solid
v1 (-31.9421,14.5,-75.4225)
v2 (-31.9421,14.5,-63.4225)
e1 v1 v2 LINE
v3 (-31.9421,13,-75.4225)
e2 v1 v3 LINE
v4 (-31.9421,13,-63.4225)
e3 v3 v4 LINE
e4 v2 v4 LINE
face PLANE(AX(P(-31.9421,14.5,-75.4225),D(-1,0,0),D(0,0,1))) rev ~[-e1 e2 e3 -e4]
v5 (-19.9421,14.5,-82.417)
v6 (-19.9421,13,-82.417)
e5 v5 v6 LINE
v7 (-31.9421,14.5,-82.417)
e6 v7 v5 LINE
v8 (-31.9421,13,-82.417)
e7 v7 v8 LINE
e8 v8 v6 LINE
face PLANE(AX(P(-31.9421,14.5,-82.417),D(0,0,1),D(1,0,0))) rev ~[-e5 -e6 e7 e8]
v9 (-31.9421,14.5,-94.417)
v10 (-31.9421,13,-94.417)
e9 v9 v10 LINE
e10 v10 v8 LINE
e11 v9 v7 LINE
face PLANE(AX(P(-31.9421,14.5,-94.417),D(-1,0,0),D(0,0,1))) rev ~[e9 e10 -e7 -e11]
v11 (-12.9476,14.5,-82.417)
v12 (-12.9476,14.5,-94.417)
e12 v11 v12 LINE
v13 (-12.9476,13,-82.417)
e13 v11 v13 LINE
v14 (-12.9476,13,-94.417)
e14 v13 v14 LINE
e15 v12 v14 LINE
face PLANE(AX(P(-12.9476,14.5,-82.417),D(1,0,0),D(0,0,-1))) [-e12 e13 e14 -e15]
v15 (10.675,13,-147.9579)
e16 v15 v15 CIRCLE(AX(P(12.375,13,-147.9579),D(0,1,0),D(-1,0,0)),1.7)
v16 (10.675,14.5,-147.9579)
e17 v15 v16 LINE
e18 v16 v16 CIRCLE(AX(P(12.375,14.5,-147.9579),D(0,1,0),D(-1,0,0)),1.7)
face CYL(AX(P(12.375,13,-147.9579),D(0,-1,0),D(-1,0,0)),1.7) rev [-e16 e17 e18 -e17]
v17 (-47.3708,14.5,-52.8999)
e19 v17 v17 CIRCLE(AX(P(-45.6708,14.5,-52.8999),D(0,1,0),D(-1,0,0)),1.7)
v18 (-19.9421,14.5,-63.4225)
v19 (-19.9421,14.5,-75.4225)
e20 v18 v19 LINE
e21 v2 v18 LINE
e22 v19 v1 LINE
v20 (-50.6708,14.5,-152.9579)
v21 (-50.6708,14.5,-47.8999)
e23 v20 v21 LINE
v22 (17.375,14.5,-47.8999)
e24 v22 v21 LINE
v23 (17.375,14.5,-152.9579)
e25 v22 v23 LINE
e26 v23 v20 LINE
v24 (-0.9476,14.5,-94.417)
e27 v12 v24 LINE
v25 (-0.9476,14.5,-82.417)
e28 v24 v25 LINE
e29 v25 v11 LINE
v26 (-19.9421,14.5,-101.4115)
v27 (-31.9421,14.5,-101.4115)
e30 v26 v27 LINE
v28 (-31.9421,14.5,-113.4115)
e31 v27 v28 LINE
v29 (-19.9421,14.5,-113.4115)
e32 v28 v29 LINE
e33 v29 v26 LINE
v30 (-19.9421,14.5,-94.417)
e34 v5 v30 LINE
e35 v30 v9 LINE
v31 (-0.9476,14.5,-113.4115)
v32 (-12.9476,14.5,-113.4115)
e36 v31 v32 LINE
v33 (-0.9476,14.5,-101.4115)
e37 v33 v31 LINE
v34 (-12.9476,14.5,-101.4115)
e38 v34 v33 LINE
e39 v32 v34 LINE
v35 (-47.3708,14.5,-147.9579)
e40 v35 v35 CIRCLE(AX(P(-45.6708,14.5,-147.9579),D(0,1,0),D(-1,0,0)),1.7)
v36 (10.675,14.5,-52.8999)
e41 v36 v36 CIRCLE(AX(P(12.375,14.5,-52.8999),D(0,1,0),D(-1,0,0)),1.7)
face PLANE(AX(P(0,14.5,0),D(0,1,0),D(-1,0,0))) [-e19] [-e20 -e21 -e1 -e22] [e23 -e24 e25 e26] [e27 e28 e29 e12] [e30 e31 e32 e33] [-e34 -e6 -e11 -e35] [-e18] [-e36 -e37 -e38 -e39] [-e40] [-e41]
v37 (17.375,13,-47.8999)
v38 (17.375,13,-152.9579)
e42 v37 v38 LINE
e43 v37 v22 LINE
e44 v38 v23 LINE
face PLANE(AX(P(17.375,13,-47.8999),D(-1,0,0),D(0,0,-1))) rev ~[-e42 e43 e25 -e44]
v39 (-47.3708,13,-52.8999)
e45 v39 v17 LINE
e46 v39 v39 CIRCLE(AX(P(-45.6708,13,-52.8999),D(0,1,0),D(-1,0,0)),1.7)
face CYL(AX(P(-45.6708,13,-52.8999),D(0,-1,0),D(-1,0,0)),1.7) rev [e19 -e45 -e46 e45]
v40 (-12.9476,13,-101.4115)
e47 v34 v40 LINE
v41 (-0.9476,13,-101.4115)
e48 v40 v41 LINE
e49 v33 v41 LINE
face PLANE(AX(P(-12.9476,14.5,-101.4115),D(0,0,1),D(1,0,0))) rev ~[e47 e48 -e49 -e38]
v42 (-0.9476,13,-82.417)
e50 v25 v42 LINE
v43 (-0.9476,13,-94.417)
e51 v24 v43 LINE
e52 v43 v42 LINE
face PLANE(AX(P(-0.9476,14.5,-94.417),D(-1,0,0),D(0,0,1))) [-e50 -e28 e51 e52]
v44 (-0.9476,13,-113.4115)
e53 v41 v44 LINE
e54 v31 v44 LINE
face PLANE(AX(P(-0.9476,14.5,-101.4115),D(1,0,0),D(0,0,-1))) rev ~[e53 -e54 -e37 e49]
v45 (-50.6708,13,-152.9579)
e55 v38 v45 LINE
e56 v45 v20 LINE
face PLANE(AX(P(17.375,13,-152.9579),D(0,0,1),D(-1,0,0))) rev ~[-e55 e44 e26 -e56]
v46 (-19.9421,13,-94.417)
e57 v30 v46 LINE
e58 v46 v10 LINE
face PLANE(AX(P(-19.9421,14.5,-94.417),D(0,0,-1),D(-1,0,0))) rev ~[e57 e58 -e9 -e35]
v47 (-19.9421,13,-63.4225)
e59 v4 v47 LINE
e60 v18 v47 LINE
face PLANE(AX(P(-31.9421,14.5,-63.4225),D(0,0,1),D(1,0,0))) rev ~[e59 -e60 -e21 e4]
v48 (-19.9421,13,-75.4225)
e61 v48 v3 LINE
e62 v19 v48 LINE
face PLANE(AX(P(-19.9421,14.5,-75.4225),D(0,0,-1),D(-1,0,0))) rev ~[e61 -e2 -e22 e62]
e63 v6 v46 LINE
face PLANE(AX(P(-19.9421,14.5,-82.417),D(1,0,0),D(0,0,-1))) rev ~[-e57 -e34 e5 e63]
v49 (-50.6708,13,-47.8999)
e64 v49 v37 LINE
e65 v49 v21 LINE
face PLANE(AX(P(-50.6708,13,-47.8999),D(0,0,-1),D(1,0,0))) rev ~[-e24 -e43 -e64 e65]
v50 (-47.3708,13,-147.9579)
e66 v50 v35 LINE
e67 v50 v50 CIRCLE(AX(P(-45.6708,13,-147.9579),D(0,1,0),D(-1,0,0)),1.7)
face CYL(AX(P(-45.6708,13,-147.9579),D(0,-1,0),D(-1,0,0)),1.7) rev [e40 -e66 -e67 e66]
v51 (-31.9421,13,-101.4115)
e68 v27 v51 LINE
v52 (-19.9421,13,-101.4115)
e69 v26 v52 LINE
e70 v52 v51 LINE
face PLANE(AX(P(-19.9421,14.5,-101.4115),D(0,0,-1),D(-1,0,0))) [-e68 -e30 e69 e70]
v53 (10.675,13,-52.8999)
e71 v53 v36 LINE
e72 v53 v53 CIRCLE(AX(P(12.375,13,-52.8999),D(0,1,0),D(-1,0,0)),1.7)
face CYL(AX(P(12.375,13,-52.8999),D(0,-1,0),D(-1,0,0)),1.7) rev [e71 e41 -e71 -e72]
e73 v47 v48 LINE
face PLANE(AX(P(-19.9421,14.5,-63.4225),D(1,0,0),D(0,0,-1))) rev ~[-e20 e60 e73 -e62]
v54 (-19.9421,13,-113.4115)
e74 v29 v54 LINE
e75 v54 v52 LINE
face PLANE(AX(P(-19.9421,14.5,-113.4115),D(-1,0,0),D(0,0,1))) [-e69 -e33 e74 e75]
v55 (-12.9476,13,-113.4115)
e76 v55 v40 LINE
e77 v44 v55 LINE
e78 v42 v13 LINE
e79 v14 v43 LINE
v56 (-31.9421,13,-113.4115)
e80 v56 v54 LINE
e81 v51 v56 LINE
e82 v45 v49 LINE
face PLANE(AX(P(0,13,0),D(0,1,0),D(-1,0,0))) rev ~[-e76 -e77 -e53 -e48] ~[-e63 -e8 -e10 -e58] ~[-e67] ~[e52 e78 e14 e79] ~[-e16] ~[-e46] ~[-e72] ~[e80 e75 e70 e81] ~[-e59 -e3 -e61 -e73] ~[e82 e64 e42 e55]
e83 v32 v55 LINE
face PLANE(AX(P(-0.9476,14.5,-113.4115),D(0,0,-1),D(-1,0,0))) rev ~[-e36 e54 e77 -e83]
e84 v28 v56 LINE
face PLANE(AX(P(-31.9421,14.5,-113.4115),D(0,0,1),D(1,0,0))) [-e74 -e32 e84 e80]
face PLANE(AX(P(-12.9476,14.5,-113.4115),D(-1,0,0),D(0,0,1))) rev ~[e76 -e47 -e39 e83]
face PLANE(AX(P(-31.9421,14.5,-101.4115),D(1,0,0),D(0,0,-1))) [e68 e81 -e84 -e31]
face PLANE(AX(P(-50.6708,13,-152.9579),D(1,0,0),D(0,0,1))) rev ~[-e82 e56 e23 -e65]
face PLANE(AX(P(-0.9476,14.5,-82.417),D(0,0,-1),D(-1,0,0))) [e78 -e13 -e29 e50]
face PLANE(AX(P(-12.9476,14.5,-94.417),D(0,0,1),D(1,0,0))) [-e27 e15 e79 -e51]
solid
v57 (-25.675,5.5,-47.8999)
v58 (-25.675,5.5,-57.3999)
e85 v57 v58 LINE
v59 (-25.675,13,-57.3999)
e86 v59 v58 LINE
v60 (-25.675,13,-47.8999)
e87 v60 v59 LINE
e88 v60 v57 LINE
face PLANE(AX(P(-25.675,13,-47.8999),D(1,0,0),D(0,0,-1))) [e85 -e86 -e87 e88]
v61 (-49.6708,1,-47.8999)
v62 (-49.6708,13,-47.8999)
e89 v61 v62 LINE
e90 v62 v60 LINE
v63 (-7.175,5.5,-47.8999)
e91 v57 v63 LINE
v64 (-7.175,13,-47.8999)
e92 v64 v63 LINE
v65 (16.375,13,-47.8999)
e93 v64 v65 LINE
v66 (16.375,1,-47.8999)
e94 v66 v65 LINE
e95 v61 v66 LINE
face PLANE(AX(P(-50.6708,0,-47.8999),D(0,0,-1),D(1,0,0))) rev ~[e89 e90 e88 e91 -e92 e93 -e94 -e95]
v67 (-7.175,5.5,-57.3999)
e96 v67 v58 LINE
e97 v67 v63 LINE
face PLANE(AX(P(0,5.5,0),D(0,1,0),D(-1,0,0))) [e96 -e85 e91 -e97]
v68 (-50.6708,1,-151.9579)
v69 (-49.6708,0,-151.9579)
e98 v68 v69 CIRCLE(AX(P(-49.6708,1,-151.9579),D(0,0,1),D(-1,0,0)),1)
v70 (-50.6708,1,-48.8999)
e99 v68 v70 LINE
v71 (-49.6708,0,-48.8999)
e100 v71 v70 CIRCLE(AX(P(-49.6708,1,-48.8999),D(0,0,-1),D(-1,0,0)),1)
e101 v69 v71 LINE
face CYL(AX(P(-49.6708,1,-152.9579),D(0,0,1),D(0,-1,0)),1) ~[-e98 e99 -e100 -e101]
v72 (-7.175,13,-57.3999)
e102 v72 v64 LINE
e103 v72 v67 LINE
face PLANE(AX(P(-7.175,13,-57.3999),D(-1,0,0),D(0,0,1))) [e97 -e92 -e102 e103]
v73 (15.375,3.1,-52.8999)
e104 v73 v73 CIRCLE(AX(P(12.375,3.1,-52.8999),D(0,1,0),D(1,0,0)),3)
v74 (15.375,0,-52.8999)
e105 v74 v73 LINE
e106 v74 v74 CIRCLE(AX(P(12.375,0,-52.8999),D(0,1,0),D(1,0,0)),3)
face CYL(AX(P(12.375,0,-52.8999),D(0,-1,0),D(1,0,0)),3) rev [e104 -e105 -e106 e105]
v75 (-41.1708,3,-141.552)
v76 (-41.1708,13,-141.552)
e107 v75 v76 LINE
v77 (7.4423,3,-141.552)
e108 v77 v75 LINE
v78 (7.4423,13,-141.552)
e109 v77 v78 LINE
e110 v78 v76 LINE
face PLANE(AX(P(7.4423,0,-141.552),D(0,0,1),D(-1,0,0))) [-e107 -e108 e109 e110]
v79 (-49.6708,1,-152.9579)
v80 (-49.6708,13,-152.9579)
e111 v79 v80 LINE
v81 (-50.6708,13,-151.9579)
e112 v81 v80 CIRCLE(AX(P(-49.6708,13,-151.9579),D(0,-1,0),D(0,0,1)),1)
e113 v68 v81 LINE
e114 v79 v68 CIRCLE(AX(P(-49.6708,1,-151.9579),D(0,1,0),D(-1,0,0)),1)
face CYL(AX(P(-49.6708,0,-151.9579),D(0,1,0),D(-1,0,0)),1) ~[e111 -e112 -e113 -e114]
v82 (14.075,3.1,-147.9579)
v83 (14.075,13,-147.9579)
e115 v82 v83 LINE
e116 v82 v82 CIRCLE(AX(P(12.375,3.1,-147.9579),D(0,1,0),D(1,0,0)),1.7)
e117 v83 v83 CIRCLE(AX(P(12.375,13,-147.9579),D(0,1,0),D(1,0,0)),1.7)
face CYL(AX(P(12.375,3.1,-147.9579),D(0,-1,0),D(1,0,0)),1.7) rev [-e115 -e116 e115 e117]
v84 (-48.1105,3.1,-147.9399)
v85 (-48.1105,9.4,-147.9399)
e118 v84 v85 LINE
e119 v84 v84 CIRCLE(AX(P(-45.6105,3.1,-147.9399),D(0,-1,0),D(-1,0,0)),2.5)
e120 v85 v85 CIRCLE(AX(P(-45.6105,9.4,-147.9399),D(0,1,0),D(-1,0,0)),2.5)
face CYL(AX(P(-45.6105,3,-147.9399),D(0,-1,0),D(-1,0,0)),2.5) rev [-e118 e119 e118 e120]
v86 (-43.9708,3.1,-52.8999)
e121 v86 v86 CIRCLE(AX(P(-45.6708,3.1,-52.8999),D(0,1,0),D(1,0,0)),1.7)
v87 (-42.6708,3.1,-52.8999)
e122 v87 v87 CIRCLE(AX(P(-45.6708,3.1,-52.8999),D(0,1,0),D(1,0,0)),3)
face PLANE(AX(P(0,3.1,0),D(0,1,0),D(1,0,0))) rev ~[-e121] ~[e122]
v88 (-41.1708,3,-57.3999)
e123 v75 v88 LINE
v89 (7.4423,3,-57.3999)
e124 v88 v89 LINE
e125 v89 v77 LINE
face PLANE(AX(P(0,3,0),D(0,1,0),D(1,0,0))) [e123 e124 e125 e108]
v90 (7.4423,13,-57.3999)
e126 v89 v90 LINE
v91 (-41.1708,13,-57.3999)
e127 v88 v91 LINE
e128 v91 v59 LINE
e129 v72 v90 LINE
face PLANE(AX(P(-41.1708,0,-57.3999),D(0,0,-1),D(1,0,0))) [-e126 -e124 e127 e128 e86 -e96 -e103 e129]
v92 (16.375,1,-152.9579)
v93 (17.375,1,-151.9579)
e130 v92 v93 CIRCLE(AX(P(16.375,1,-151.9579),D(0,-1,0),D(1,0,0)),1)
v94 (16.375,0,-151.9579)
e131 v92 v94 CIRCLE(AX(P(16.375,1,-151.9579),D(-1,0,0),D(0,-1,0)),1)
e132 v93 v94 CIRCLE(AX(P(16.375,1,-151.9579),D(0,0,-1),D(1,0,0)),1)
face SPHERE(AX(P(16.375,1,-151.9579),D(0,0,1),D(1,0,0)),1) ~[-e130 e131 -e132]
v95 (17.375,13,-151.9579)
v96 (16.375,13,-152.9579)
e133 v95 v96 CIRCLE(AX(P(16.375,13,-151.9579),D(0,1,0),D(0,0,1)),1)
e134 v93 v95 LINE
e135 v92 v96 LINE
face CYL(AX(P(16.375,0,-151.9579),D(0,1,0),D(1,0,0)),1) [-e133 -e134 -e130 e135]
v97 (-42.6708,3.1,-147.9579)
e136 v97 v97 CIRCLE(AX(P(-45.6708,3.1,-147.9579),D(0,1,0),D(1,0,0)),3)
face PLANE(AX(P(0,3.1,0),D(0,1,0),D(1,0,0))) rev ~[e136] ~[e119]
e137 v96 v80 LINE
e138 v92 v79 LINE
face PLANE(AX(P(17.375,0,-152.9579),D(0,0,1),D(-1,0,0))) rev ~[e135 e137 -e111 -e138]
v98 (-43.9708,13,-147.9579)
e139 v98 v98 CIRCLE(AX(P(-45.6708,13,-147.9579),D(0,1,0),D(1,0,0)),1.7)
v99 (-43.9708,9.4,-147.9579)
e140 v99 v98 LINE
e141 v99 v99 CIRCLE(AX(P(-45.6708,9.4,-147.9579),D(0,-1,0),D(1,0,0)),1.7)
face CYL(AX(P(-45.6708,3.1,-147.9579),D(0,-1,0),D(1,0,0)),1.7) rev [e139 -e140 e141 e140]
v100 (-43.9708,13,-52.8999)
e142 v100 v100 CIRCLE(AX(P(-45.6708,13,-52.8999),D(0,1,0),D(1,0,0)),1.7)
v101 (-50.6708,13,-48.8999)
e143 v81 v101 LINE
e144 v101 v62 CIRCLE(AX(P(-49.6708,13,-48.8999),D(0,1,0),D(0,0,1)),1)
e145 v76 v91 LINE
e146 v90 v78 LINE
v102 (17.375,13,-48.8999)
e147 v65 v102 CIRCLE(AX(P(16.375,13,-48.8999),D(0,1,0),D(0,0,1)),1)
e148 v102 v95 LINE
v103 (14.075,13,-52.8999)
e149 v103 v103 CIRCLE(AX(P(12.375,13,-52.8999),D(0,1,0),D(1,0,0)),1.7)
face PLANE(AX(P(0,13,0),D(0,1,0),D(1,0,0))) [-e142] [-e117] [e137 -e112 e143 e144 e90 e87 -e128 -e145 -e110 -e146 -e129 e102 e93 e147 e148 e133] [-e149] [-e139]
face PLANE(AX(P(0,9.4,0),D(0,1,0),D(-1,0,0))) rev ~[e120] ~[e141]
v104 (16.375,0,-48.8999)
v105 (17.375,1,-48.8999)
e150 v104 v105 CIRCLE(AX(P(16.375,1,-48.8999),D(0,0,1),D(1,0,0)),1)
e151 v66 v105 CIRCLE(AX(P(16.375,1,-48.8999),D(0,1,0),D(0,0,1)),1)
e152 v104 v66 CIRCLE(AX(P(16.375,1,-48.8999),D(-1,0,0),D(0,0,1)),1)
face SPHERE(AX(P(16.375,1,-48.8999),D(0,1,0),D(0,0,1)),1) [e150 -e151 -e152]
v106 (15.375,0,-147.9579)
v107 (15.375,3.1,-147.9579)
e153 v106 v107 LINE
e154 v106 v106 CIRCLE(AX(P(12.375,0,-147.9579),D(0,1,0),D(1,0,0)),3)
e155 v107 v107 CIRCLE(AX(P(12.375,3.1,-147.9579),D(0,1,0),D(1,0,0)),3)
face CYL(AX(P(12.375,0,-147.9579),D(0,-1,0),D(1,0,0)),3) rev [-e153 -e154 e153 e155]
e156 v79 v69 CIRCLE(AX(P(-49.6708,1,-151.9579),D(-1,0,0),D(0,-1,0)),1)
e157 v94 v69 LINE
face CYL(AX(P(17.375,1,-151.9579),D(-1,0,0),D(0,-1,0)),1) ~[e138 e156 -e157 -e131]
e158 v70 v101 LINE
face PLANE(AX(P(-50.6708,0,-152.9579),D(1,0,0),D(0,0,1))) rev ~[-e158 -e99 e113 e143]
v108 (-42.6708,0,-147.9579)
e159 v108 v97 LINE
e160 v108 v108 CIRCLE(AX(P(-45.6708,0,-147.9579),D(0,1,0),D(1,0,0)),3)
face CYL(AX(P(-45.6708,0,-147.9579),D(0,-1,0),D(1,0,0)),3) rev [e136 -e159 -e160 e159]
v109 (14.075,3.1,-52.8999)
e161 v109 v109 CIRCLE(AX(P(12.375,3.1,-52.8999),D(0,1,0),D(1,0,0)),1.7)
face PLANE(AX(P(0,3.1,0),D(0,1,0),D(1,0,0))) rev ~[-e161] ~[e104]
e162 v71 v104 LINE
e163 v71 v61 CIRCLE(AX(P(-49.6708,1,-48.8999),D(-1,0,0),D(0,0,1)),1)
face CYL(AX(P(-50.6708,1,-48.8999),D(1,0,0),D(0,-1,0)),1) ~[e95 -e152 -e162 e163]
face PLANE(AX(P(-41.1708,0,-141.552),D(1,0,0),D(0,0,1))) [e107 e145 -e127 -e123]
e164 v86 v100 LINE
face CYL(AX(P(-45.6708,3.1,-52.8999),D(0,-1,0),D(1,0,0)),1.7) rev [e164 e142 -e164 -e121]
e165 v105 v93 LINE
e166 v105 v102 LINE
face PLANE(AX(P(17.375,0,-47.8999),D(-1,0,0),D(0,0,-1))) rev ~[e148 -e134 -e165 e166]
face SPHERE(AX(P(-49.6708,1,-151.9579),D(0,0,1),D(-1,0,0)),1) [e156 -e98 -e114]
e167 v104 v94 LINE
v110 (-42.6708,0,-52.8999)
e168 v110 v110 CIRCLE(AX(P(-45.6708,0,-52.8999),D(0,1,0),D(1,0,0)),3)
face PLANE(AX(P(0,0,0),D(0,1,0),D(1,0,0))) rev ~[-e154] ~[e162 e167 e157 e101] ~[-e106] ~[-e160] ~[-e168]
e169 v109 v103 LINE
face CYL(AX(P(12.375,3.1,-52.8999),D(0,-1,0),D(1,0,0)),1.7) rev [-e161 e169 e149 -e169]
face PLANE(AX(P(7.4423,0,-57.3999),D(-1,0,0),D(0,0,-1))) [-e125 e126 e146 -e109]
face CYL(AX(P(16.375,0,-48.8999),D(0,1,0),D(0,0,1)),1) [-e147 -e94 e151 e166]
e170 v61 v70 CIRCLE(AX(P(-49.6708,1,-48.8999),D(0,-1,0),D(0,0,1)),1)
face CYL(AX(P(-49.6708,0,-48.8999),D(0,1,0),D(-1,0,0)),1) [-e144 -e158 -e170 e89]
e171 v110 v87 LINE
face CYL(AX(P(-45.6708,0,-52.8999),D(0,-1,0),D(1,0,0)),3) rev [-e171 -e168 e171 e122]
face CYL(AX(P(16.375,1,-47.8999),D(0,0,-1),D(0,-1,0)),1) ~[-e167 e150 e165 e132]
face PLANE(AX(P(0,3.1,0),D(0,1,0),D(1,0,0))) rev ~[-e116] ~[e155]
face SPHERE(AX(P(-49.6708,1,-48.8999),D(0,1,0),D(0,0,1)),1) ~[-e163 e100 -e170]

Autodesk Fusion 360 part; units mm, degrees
sketch "Sketch1" plane through (0, 0, 0) normal (0, 1, 0) x (1, 0, 0)
  line L0 (-41.1708, 57.3999) -> (7.4423, 57.3999)
  line L1 (7.4423, 57.3999) -> (7.4423, 141.552)
  line L2 (7.4423, 141.552) -> (-41.1708, 141.552)
  line L3 (-41.1708, 141.552) -> (-41.1708, 57.3999)
  line L4 (-50.6708, 47.8999) -> (17.375, 47.8999)
  line L5 (17.375, 47.8999) -> (17.375, 152.9579)
  line L6 (17.375, 152.9579) -> (-50.6708, 152.9579)
  line L7 (-50.6708, 152.9579) -> (-50.6708, 47.8999)
  circle A0 centre (-45.6708, 147.9579) radius 1.7
  circle A1 centre (-45.6708, 52.8999) radius 1.7
  circle A2 centre (12.375, 52.8999) radius 1.7
  circle A3 centre (12.375, 147.9579) radius 1.7
  circle A4 centre (-45.6708, 52.8999) radius 3
  circle A5 centre (12.375, 52.8999) radius 3
  circle A6 centre (12.375, 147.9579) radius 3
  circle A7 centre (-45.6708, 147.9579) radius 3
  dimension "d1" = 105.058
  dimension "d2" = 68.0458
  dimension "d3" = 48.6131
  dimension "d4" = 84.1522
  dimension "d5" = 9.5
  dimension "d6" = 9.5
  dimension "d7" = 3.4
  dimension "d8" = 5
  dimension "d9" = 5
  dimension "d10" = 3.4
  dimension "d11" = 5
  dimension "d12" = 5
  dimension "d13" = 3.4
  dimension "d14" = 5
  dimension "d15" = 5
  dimension "d16" = 3.4
  dimension "d17" = 5
  dimension "d18" = 5
  dimension "d19" = 6
  dimension "d20" = 6
  dimension "d21" = 6
  dimension "d22" = 6
extrude "Extrude1" add sketch "Sketch1" along normal blind 9.9 from surface at 3.1 contours A4 | A5 | A6 | A7 makes body 1 at (-48.667, 9.7, -52.7503) makes body 2 at (-42.9063, 9.7, -149.1232) makes body 3 at (15.3713, 9.7, -52.7503) makes body 4 at (9.6106, 9.7, -149.1232)
extrude "Extrude2" add sketch "Sketch1" along normal blind 13 contours L4 L5 L6 L7 bodies 1 2 3 4
extrude "Extrude3" add sketch "Sketch1" along normal blind 3 contours L0 L1 L2 L3 bodies 1
sketch "Sketch2" plane through (0, 13, 0) normal (0, 1, 0) x (-1, 0, 0)
  circle A0 centre (45.6708, -52.8999) radius 1.7
  circle A1 centre (-12.375, -147.9579) radius 1.7
  line L0 (41.1708, -57.3999) -> (41.1708, -141.552)
  line L1 (41.1708, -141.552) -> (-7.4423, -141.552)
  line L2 (-7.4423, -141.552) -> (-7.4423, -57.3999)
  line L3 (-7.4423, -57.3999) -> (41.1708, -57.3999)
  line L4 (50.6708, -152.9579) -> (50.6708, -47.8999)
  line L5 (50.6708, -47.8999) -> (-17.375, -47.8999)
  line L6 (-17.375, -47.8999) -> (-17.375, -152.9579)
  line L7 (-17.375, -152.9579) -> (50.6708, -152.9579)
  circle A2 centre (45.6708, -147.9579) radius 1.7
  circle A3 centre (-12.375, -52.8999) radius 1.7
  line L8 (7.175, -47.8999) -> (25.675, -47.8999)
  line L9 (25.675, -47.8999) -> (25.675, -57.3999)
  line L10 (25.675, -57.3999) -> (7.175, -57.3999)
  line L11 (7.175, -57.3999) -> (7.175, -47.8999)
  line L12 (-17.375, -47.8999) -> (-17.375, -152.9579)
  line L13 (-17.375, -152.9579) -> (50.6708, -152.9579)
  line L14 (50.6708, -152.9579) -> (50.6708, -47.8999)
  line L15 (50.6708, -47.8999) -> (-17.375, -47.8999)
  line L16 (-17.375, -47.8999) -> (-17.375, -152.9579)
  point P0 (50.6708, -152.9579)
  point P1 (-17.375, -152.9579)
  point P2 (50.6708, -47.8999)
  point P3 (-17.375, -47.8999)
  dimension "d30" = 18.5
  dimension "d32" = 24.55
extrude "Extrude4" cut sketch "Sketch2" against normal blind 7.5 contours L3 L5 L8 L9 L10 L11 L15 bodies 1
sketch "Sketch3" plane through (0, 0, 0) normal (0, 1, 0) x (1, 0, 0)
sketch "Sketch4" plane through (0, 3, 0) normal (0, 1, 0) x (-1, 0, 0)
  line L0 (41.1708, -141.552) -> (41.1708, -57.3999)
  line L1 (41.1708, -57.3999) -> (-7.4423, -57.3999)
  line L2 (-7.4423, -57.3999) -> (-7.4423, -141.552)
  line L3 (-7.4423, -141.552) -> (41.1708, -141.552)
  line L4 (6.8441, -1.7803) -> (6.8447, -1.7809)
  line L5 (6.8447, -1.7809) -> (6.8447, -1.7812)
  line L6 (6.8447, -1.7812) -> (6.8447, -5.0625)
  line L7 (6.8447, -5.0625) -> (6.8447, -5.0629)
  line L8 (6.8447, -5.0629) -> (6.8441, -5.0634)
  line L9 (6.8441, -5.0634) -> (6.8438, -5.0635)
  line L10 (6.8438, -5.0635) -> (4.9688, -5.0635)
  line L11 (4.9688, -5.0635) -> (4.9684, -5.0634)
  line L12 (4.9684, -5.0634) -> (4.9678, -5.0629)
  line L13 (4.9678, -5.0629) -> (4.9678, -5.0625)
  line L14 (4.9678, -5.0625) -> (4.9678, -1.7812)
  line L15 (4.9678, -1.7812) -> (4.9678, -1.7809)
  line L16 (4.9678, -1.7809) -> (4.9684, -1.7803)
  line L17 (4.9684, -1.7803) -> (4.9688, -1.7803)
  line L18 (4.9688, -1.7803) -> (6.8438, -1.7803)
  line L19 (6.8438, -1.7803) -> (6.8441, -1.7803)
  line L20 (4.9697, -1.7822) -> (4.9697, -5.0615)
  line L21 (4.9697, -5.0615) -> (6.8428, -5.0615)
  line L22 (6.8428, -5.0615) -> (6.8428, -1.7822)
  line L23 (6.8428, -1.7822) -> (4.9697, -1.7822)
  circle A0 centre (6.75, -4.9688) radius 0.0433
  circle A1 centre (5.0625, -4.9688) radius 0.0433
  circle A2 centre (6.75, -1.875) radius 0.0433
  circle A3 centre (5.0625, -1.875) radius 0.0433
  circle A4 centre (5.3312, -3.0938) radius 0.0335
  circle A5 centre (5.5312, -3.0938) radius 0.0787
  circle A6 centre (5.7313, -3.0938) radius 0.0335
  circle A7 centre (5.6312, -2.8937) radius 0.0295
  circle A8 centre (5.3812, -2.9937) radius 0.0295
  circle A9 centre (6.0813, -3.0938) radius 0.0335
  circle A10 centre (6.2812, -3.0938) radius 0.0787
  circle A11 centre (6.4813, -3.0938) radius 0.0335
  circle A12 centre (6.3813, -2.8937) radius 0.0295
  circle A13 centre (6.1313, -2.9937) radius 0.0295
  circle A14 centre (5.5858, -1.8956) radius 0.0175
  circle A15 centre (5.5858, -1.9956) radius 0.0175
  circle A16 centre (5.5858, -2.0956) radius 0.0175
  circle A17 centre (5.5858, -2.1956) radius 0.0175
  circle A18 centre (5.5858, -2.2956) radius 0.0175
  circle A19 centre (5.5858, -2.3956) radius 0.0175
  circle A20 centre (5.5858, -2.4956) radius 0.0175
  circle A21 centre (6.1858, -2.4956) radius 0.0175
  circle A22 centre (6.1858, -2.3956) radius 0.0175
  circle A23 centre (6.1858, -2.2956) radius 0.0175
  circle A24 centre (6.1858, -2.1956) radius 0.0175
  circle A25 centre (6.1858, -2.0956) radius 0.0175
  circle A26 centre (6.1858, -1.9956) radius 0.0175
  circle A27 centre (6.1858, -1.8956) radius 0.0175
  circle A28 centre (6.0813, -3.8438) radius 0.0335
  circle A29 centre (6.2812, -3.8438) radius 0.0787
  circle A30 centre (6.4813, -3.8438) radius 0.0335
  circle A31 centre (6.3813, -3.6437) radius 0.0295
  circle A32 centre (6.1313, -3.7438) radius 0.0295
  circle A33 centre (5.3312, -3.8438) radius 0.0335
  circle A34 centre (5.5312, -3.8438) radius 0.0787
  circle A35 centre (5.7313, -3.8438) radius 0.0335
  circle A36 centre (5.6312, -3.6437) radius 0.0295
  circle A37 centre (5.3812, -3.7438) radius 0.0295
  circle A38 centre (5.3312, -4.5938) radius 0.0335
  circle A39 centre (5.5312, -4.5938) radius 0.0787
  circle A40 centre (5.7313, -4.5938) radius 0.0335
  circle A41 centre (5.6312, -4.3937) radius 0.0295
  circle A42 centre (5.3812, -4.4938) radius 0.0295
  circle A43 centre (6.75, -4.9688) radius 0.0433
  circle A44 centre (5.0625, -4.9688) radius 0.0433
  circle A45 centre (6.75, -1.875) radius 0.0433
  circle A46 centre (5.0625, -1.875) radius 0.0433
  circle A47 centre (5.3312, -3.0938) radius 0.0335
  circle A48 centre (5.5312, -3.0938) radius 0.0787
  circle A49 centre (5.7313, -3.0938) radius 0.0335
  circle A50 centre (5.6312, -2.8937) radius 0.0295
  circle A51 centre (5.3812, -2.9937) radius 0.0295
  circle A52 centre (6.0813, -3.0938) radius 0.0335
  circle A53 centre (6.2812, -3.0938) radius 0.0787
  circle A54 centre (6.4813, -3.0938) radius 0.0335
  circle A55 centre (6.3813, -2.8937) radius 0.0295
  circle A56 centre (6.1313, -2.9937) radius 0.0295
  circle A57 centre (5.5858, -1.8956) radius 0.0175
  circle A58 centre (5.5858, -1.9956) radius 0.0175
  circle A59 centre (5.5858, -2.0956) radius 0.0175
  circle A60 centre (5.5858, -2.1956) radius 0.0175
  circle A61 centre (5.5858, -2.2956) radius 0.0175
  circle A62 centre (5.5858, -2.3956) radius 0.0175
  circle A63 centre (5.5858, -2.4956) radius 0.0175
  circle A64 centre (6.1858, -2.4956) radius 0.0175
  circle A65 centre (6.1858, -2.3956) radius 0.0175
  circle A66 centre (6.1858, -2.2956) radius 0.0175
  circle A67 centre (6.1858, -2.1956) radius 0.0175
  circle A68 centre (6.1858, -2.0956) radius 0.0175
  circle A69 centre (6.1858, -1.9956) radius 0.0175
  circle A70 centre (6.1858, -1.8956) radius 0.0175
  circle A71 centre (6.0813, -3.8438) radius 0.0335
  circle A72 centre (6.2812, -3.8438) radius 0.0787
  circle A73 centre (6.4813, -3.8438) radius 0.0335
  circle A74 centre (6.3813, -3.6437) radius 0.0295
  circle A75 centre (6.1313, -3.7438) radius 0.0295
  circle A76 centre (5.3312, -3.8438) radius 0.0335
  circle A77 centre (5.5312, -3.8438) radius 0.0787
  circle A78 centre (5.7313, -3.8438) radius 0.0335
  circle A79 centre (5.6312, -3.6437) radius 0.0295
  circle A80 centre (5.3812, -3.7438) radius 0.0295
  circle A81 centre (5.3312, -4.5938) radius 0.0335
  circle A82 centre (5.5312, -4.5938) radius 0.0787
  circle A83 centre (5.7313, -4.5938) radius 0.0335
  circle A84 centre (5.6312, -4.3937) radius 0.0295
  circle A85 centre (5.3812, -4.4938) radius 0.0295
  circle A86 centre (45.6105, -147.9399) radius 2.5
  circle A87 centre (-12.2673, -147.927) radius 2.5
  curve A88
  circle A89 centre (-12.3196, -52.8556) radius 2.5
  dimension "d35" = 5
  dimension "d36" = 5
  dimension "d37" = 5
  dimension "d38" = 5
extrude "Extrude5" cut sketch "Sketch4" along normal blind 6.4 contours A86 bodies 1
sketch "macropad-Edge_Cuts" plane through (0, 3, 0) normal (0, 1, 0) x (0, 0, 1)
  line L0 (6.8441, -1.7803) -> (6.8447, -1.7809)
  line L1 (6.8447, -1.7809) -> (6.8447, -1.7812)
  line L2 (6.8447, -1.7812) -> (6.8447, -5.0625)
  line L3 (6.8447, -5.0625) -> (6.8447, -5.0629)
  line L4 (6.8447, -5.0629) -> (6.8441, -5.0634)
  line L5 (6.8441, -5.0634) -> (6.8438, -5.0635)
  line L6 (6.8438, -5.0635) -> (4.9688, -5.0635)
  line L7 (4.9688, -5.0635) -> (4.9684, -5.0634)
  line L8 (4.9684, -5.0634) -> (4.9678, -5.0629)
  line L9 (4.9678, -5.0629) -> (4.9678, -5.0625)
  line L10 (4.9678, -5.0625) -> (4.9678, -1.7812)
  line L11 (4.9678, -1.7812) -> (4.9678, -1.7809)
  line L12 (4.9678, -1.7809) -> (4.9684, -1.7803)
  line L13 (4.9684, -1.7803) -> (4.9688, -1.7803)
  line L14 (4.9688, -1.7803) -> (6.8438, -1.7803)
  line L15 (6.8438, -1.7803) -> (6.8441, -1.7803)
  line L16 (4.9697, -1.7822) -> (4.9697, -5.0615)
  line L17 (4.9697, -5.0615) -> (6.8428, -5.0615)
  line L18 (6.8428, -5.0615) -> (6.8428, -1.7822)
  line L19 (6.8428, -1.7822) -> (4.9697, -1.7822)
  circle A0 centre (6.75, -4.9688) radius 0.0433
  circle A1 centre (-33.7206, -2.9937) radius 0.0433
  circle A2 centre (6.75, -1.875) radius 0.0433
  circle A3 centre (5.0625, -1.875) radius 0.0433
  circle A4 centre (5.3312, -3.0938) radius 0.0335
  circle A5 centre (5.5312, -3.0938) radius 0.0787
  circle A6 centre (5.7313, -3.0938) radius 0.0335
  circle A7 centre (5.6312, -2.8937) radius 0.0295
  circle A8 centre (5.3812, -2.9937) radius 0.0295
  circle A9 centre (6.0813, -3.0938) radius 0.0335
  circle A10 centre (6.2812, -3.0938) radius 0.0787
  circle A11 centre (6.4813, -3.0938) radius 0.0335
  circle A12 centre (6.3813, -2.8937) radius 0.0295
  circle A13 centre (6.1313, -2.9937) radius 0.0295
  circle A14 centre (5.5858, -1.8956) radius 0.0175
  circle A15 centre (5.5858, -1.9956) radius 0.0175
  circle A16 centre (5.5858, -2.0956) radius 0.0175
  circle A17 centre (5.5858, -2.1956) radius 0.0175
  circle A18 centre (5.5858, -2.2956) radius 0.0175
  circle A19 centre (5.5858, -2.3956) radius 0.0175
  circle A20 centre (5.5858, -2.4956) radius 0.0175
  circle A21 centre (6.1858, -2.4956) radius 0.0175
  circle A22 centre (6.1858, -2.3956) radius 0.0175
  circle A23 centre (6.1858, -2.2956) radius 0.0175
  circle A24 centre (6.1858, -2.1956) radius 0.0175
  circle A25 centre (6.1858, -2.0956) radius 0.0175
  circle A26 centre (6.1858, -1.9956) radius 0.0175
  circle A27 centre (6.1858, -1.8956) radius 0.0175
  circle A28 centre (6.0813, -3.8438) radius 0.0335
  circle A29 centre (6.2812, -3.8438) radius 0.0787
  circle A30 centre (6.4813, -3.8438) radius 0.0335
  circle A31 centre (6.3813, -3.6437) radius 0.0295
  circle A32 centre (6.1313, -3.7438) radius 0.0295
  circle A33 centre (5.3312, -3.8438) radius 0.0335
  circle A34 centre (5.5312, -3.8438) radius 0.0787
  circle A35 centre (5.7313, -3.8438) radius 0.0335
  circle A36 centre (5.6312, -3.6437) radius 0.0295
  circle A37 centre (-20, -90) radius 0.0295
  circle A38 centre (5.3312, -4.5938) radius 0.0335
  circle A39 centre (5.5312, -4.5938) radius 0.0787
  circle A40 centre (-20, -30) radius 0.0335
  circle A41 centre (5.6312, -4.3937) radius 0.0295
  circle A42 centre (5.3812, -4.4938) radius 0.0295
  circle A43 centre (-34.7247, -73.7928) radius 0.0433
  circle A44 centre (5.0625, -4.9688) radius 0.0433
  circle A45 centre (6.75, -1.875) radius 0.0433
  circle A46 centre (5.0625, -1.875) radius 0.0433
  circle A47 centre (5.3312, -3.0938) radius 0.0335
  circle A48 centre (5.5312, -3.0938) radius 0.0787
  circle A49 centre (5.7313, -3.0938) radius 0.0335
  circle A50 centre (5.6312, -2.8937) radius 0.0295
  circle A51 centre (5.3812, -2.9937) radius 0.0295
  circle A52 centre (6.0813, -3.0938) radius 0.0335
  circle A53 centre (6.2812, -3.0938) radius 0.0787
  circle A54 centre (6.4813, -3.0938) radius 0.0335
  circle A55 centre (6.3813, -2.8937) radius 0.0295
  circle A56 centre (6.1313, -2.9937) radius 0.0295
  circle A57 centre (5.5858, -1.8956) radius 0.0175
  circle A58 centre (5.5858, -1.9956) radius 0.0175
  circle A59 centre (5.5858, -2.0956) radius 0.0175
  circle A60 centre (5.5858, -2.1956) radius 0.0175
  circle A61 centre (5.5858, -2.2956) radius 0.0175
  circle A62 centre (5.5858, -2.3956) radius 0.0175
  circle A63 centre (5.5858, -2.4956) radius 0.0175
  circle A64 centre (6.1858, -2.4956) radius 0.0175
  circle A65 centre (6.1858, -2.3956) radius 0.0175
  circle A66 centre (6.1858, -2.2956) radius 0.0175
  circle A67 centre (6.1858, -2.1956) radius 0.0175
  circle A68 centre (6.1858, -2.0956) radius 0.0175
  circle A69 centre (6.1858, -1.9956) radius 0.0175
  circle A70 centre (6.1858, -1.8956) radius 0.0175
  circle A71 centre (-40.0793, -83.4982) radius 0.0335
  circle A72 centre (6.2812, -3.8438) radius 0.0787
  circle A73 centre (6.4813, -3.8438) radius 0.0335
  circle A74 centre (6.3813, -3.6437) radius 0.0295
  circle A75 centre (-30.374, -73.7928) radius 0.0295
  circle A76 centre (-30, -50) radius 0.0335
  circle A77 centre (5.5312, -3.8438) radius 0.0787
  circle A78 centre (5.7313, -3.8438) radius 0.0335
  circle A79 centre (5.6312, -3.6437) radius 0.0295
  circle A80 centre (-14.9792, -54.0474) radius 0.0295
  circle A81 centre (5.3312, -4.5938) radius 0.0335
  circle A82 centre (5.5312, -4.5938) radius 0.0787
  circle A83 centre (5.7313, -4.5938) radius 0.0335
  circle A84 centre (-44.43, -96.2155) radius 0.0295
  circle A85 centre (5.3812, -4.4938) radius 0.0295
extrude "Extrude6" add sketch "Sketch2" along normal blind 1.5 separate body makes body 5
sketch "Sketch6" plane through (0, 14.5, 0) normal (0, 1, 0) x (-1, 0, 0)
  circle A0 centre (45.6708, -147.9579) radius 1.7
  circle A1 centre (-12.375, -147.9579) radius 1.7
  circle A2 centre (45.6708, -52.8999) radius 1.7
  circle A3 centre (-12.375, -52.8999) radius 1.7
  line L0 (-17.375, -47.8999) -> (-17.375, -152.9579)
  line L1 (-17.375, -152.9579) -> (50.6708, -152.9579)
  line L2 (50.6708, -152.9579) -> (50.6708, -47.8999)
  line L3 (50.6708, -47.8999) -> (-17.375, -47.8999)
  line L4 (-7.3078, -140.6749) -> (-7.3213, -140.6614)
  line L5 (-7.3213, -140.6614) -> (-7.3232, -140.6519)
  line L6 (-7.3232, -140.6519) -> (-7.3232, -57.5509)
  line L7 (-7.3232, -57.5509) -> (-7.3213, -57.5414)
  line L8 (-7.3213, -57.5414) -> (-7.3078, -57.5279)
  line L9 (-7.3078, -57.5279) -> (-7.2983, -57.526)
  line L10 (-7.2983, -57.526) -> (40.188, -57.526)
  line L11 (40.188, -57.526) -> (40.1975, -57.5279)
  line L12 (40.1975, -57.5279) -> (40.211, -57.5414)
  line L13 (40.211, -57.5414) -> (40.2129, -57.5509)
  line L14 (40.2129, -57.5509) -> (40.2129, -140.6519)
  line L15 (40.2129, -140.6519) -> (40.211, -140.6614)
  line L16 (40.211, -140.6614) -> (40.1975, -140.6749)
  line L17 (40.1975, -140.6749) -> (40.188, -140.6768)
  line L18 (40.188, -140.6768) -> (-7.2983, -140.6768)
  line L19 (-7.2983, -140.6768) -> (-7.3078, -140.6749)
  line L20 (40.163, -140.6269) -> (40.163, -57.5758)
  line L21 (40.163, -57.5758) -> (-7.2734, -57.5758)
  line L22 (-7.2734, -57.5758) -> (-7.2734, -140.6269)
  line L23 (-7.2734, -140.6269) -> (40.163, -140.6269)
  circle A4 centre (-4.924, -59.9252) radius 1.0968
  circle A5 centre (37.8137, -59.9252) radius 1.0968
  circle A6 centre (-4.924, -138.2775) radius 1.0968
  circle A7 centre (37.8137, -138.2775) radius 1.0968
  circle A8 centre (31.0073, -107.4115) radius 0.8475
  circle A9 centre (25.9421, -107.4115) radius 1.9942
  circle A10 centre (20.8769, -107.4115) radius 0.8475
  circle A11 centre (23.4095, -112.4767) radius 0.7478
  circle A12 centre (29.741, -109.9441) radius 0.7478
  circle A13 centre (12.0128, -107.4115) radius 0.8475
  circle A14 centre (6.9476, -107.4115) radius 1.9942
  circle A15 centre (1.8824, -107.4115) radius 0.8475
  circle A16 centre (4.415, -112.4767) radius 0.7478
  circle A17 centre (10.7465, -109.9441) radius 0.7478
  circle A18 centre (24.5599, -137.7556) radius 0.4432
  circle A19 centre (24.5599, -135.223) radius 0.4432
  circle A20 centre (24.5599, -132.6904) radius 0.4432
  circle A21 centre (24.5599, -130.1578) radius 0.4432
  circle A22 centre (24.5599, -127.6252) radius 0.4432
  circle A23 centre (24.5599, -125.0926) radius 0.4432
  circle A24 centre (24.5599, -122.56) radius 0.4432
  circle A25 centre (9.3643, -122.56) radius 0.4432
  circle A26 centre (9.3643, -125.0926) radius 0.4432
  circle A27 centre (9.3643, -127.6252) radius 0.4432
  circle A28 centre (9.3643, -130.1578) radius 0.4432
  circle A29 centre (9.3643, -132.6904) radius 0.4432
  circle A30 centre (9.3643, -135.223) radius 0.4432
  circle A31 centre (9.3643, -137.7556) radius 0.4432
  circle A32 centre (12.0128, -88.417) radius 0.8475
  circle A33 centre (6.9476, -88.417) radius 1.9942
  circle A34 centre (1.8824, -88.417) radius 0.8475
  circle A35 centre (4.415, -93.4822) radius 0.7478
  circle A36 centre (10.7465, -90.9496) radius 0.7478
  circle A37 centre (31.0073, -88.417) radius 0.8475
  circle A38 centre (25.9421, -88.417) radius 1.9942
  circle A39 centre (20.8769, -88.417) radius 0.8475
  circle A40 centre (23.4095, -93.4822) radius 0.7478
  circle A41 centre (29.741, -90.9496) radius 0.7478
  circle A42 centre (31.0073, -69.4225) radius 0.8475
  circle A43 centre (25.9421, -69.4225) radius 1.9942
  circle A44 centre (20.8769, -69.4225) radius 0.8475
  circle A45 centre (23.4095, -74.4877) radius 0.7478
  circle A46 centre (29.741, -71.9551) radius 0.7478
  circle A47 centre (-4.924, -59.9252) radius 1.0968
  circle A48 centre (37.8137, -59.9252) radius 1.0968
  circle A49 centre (-4.924, -138.2775) radius 1.0968
  circle A50 centre (37.8137, -138.2775) radius 1.0968
  circle A51 centre (31.0073, -107.4115) radius 0.8475
  circle A52 centre (25.9421, -107.4115) radius 1.9942
  circle A53 centre (20.8769, -107.4115) radius 0.8475
  circle A54 centre (23.4095, -112.4767) radius 0.7478
  circle A55 centre (29.741, -109.9441) radius 0.7478
  circle A56 centre (12.0128, -107.4115) radius 0.8475
  circle A57 centre (6.9476, -107.4115) radius 1.9942
  circle A58 centre (1.8824, -107.4115) radius 0.8475
  circle A59 centre (4.415, -112.4767) radius 0.7478
  circle A60 centre (10.7465, -109.9441) radius 0.7478
  circle A61 centre (24.5599, -137.7556) radius 0.4432
  circle A62 centre (24.5599, -135.223) radius 0.4432
  circle A63 centre (24.5599, -132.6904) radius 0.4432
  circle A64 centre (24.5599, -130.1578) radius 0.4432
  circle A65 centre (24.5599, -127.6252) radius 0.4432
  circle A66 centre (24.5599, -125.0926) radius 0.4432
  circle A67 centre (24.5599, -122.56) radius 0.4432
  circle A68 centre (9.3643, -122.56) radius 0.4432
  circle A69 centre (9.3643, -125.0926) radius 0.4432
  circle A70 centre (9.3643, -127.6252) radius 0.4432
  circle A71 centre (9.3643, -130.1578) radius 0.4432
  circle A72 centre (9.3643, -132.6904) radius 0.4432
  circle A73 centre (9.3643, -135.223) radius 0.4432
  circle A74 centre (9.3643, -137.7556) radius 0.4432
  circle A75 centre (12.0128, -88.417) radius 0.8475
  circle A76 centre (6.9476, -88.417) radius 1.9942
  circle A77 centre (1.8824, -88.417) radius 0.8475
  circle A78 centre (4.415, -93.4822) radius 0.7478
  circle A79 centre (10.7465, -90.9496) radius 0.7478
  circle A80 centre (31.0073, -88.417) radius 0.8475
  circle A81 centre (25.9421, -88.417) radius 1.9942
  circle A82 centre (20.8769, -88.417) radius 0.8475
  circle A83 centre (23.4095, -93.4822) radius 0.7478
  circle A84 centre (29.741, -90.9496) radius 0.7478
  circle A85 centre (31.0073, -69.4225) radius 0.8475
  circle A86 centre (25.9421, -69.4225) radius 1.9942
  circle A87 centre (20.8769, -69.4225) radius 0.8475
  circle A88 centre (23.4095, -74.4877) radius 0.7478
  circle A89 centre (29.741, -71.9551) radius 0.7478
  line L24 (0.9476, -82.417) -> (12.9476, -82.417)
  line L25 (12.9476, -82.417) -> (12.9476, -94.417)
  line L26 (12.9476, -94.417) -> (0.9476, -94.417)
  line L27 (0.9476, -94.417) -> (0.9476, -82.417)
  line L28 (0.9476, -82.417) -> (12.9476, -94.417) construction
  line L29 (12.9476, -82.417) -> (0.9476, -94.417) construction
  line L30 (31.9421, -63.4225) -> (19.9421, -63.4225)
  line L31 (19.9421, -63.4225) -> (19.9421, -75.4225)
  line L32 (19.9421, -75.4225) -> (31.9421, -75.4225)
  line L33 (31.9421, -75.4225) -> (31.9421, -63.4225)
  line L34 (31.9421, -63.4225) -> (19.9421, -75.4225) construction
  line L35 (19.9421, -63.4225) -> (31.9421, -75.4225) construction
  line L36 (31.9421, -82.417) -> (19.9421, -82.417)
  line L37 (19.9421, -82.417) -> (19.9421, -94.417)
  line L38 (19.9421, -94.417) -> (31.9421, -94.417)
  line L39 (31.9421, -94.417) -> (31.9421, -82.417)
  line L40 (31.9421, -82.417) -> (19.9421, -94.417) construction
  line L41 (19.9421, -82.417) -> (31.9421, -94.417) construction
  line L42 (12.9476, -101.4115) -> (0.9476, -101.4115)
  line L43 (0.9476, -101.4115) -> (0.9476, -113.4115)
  line L44 (0.9476, -113.4115) -> (12.9476, -113.4115)
  line L45 (12.9476, -113.4115) -> (12.9476, -101.4115)
  line L46 (12.9476, -101.4115) -> (0.9476, -113.4115) construction
  line L47 (0.9476, -101.4115) -> (12.9476, -113.4115) construction
  line L48 (19.9421, -101.4115) -> (31.9421, -101.4115)
  line L49 (31.9421, -101.4115) -> (31.9421, -113.4115)
  line L50 (31.9421, -113.4115) -> (19.9421, -113.4115)
  line L51 (19.9421, -113.4115) -> (19.9421, -101.4115)
  line L52 (19.9421, -101.4115) -> (31.9421, -113.4115) construction
  line L53 (31.9421, -101.4115) -> (19.9421, -113.4115) construction
  point P0 (6.9476, -88.417)
  point P1 (25.9421, -69.4225)
  point P2 (25.9421, -88.417)
  point P3 (6.9476, -107.4115)
  point P4 (25.9421, -107.4115)
  dimension "d43" = 12
  dimension "d44" = 12
  dimension "d45" = 12
  dimension "d46" = 12
  dimension "d47" = 12
  dimension "d48" = 12
  dimension "d49" = 12
  dimension "d50" = 12
  dimension "d51" = 12
  dimension "d52" = 12
extrude "Extrude7" cut sketch "Sketch6" against normal blind 1.5 contours A8 A51 | A9 A52 | A10 A53 | A11 A54 | A12 A55 | A13 A56 | A14 A57 | A15 A58 | A16 A59 | A17 A60 | A32 A75 | A33 A76 | A34 A77 | A35 A78 | A36 A79 | A37 A80 | A38 A81 | A39 A82 | A40 A83 | A41 A84 | A42 A85 | A43 A86 | A44 A87 | A45 A88 | A46 A89 | L24 L25 L26 L27 | L30 L31 L32 L33 | L36 L37 L38 L39 | L42 L43 L44 L45 | L48 L49 L50 L51 bodies 5
fillet "Fillet1" radius 1 8 edges at (-50.6708, 6.5, -47.8999) (17.375, 6.5, -47.8999) (-16.6479, 0, -47.8999) (-50.6708, 0, -100.4289) (-50.6708, 6.5, -152.9579) (17.375, 0, -100.4289) (17.375, 6.5, -152.9579) (-16.6479, 0, -152.9579) on bodies 1
component "top cover" placed x (1, 0, 0) y (0, 1, 0) z (0, 0, 1) at (0, 0, 0)
